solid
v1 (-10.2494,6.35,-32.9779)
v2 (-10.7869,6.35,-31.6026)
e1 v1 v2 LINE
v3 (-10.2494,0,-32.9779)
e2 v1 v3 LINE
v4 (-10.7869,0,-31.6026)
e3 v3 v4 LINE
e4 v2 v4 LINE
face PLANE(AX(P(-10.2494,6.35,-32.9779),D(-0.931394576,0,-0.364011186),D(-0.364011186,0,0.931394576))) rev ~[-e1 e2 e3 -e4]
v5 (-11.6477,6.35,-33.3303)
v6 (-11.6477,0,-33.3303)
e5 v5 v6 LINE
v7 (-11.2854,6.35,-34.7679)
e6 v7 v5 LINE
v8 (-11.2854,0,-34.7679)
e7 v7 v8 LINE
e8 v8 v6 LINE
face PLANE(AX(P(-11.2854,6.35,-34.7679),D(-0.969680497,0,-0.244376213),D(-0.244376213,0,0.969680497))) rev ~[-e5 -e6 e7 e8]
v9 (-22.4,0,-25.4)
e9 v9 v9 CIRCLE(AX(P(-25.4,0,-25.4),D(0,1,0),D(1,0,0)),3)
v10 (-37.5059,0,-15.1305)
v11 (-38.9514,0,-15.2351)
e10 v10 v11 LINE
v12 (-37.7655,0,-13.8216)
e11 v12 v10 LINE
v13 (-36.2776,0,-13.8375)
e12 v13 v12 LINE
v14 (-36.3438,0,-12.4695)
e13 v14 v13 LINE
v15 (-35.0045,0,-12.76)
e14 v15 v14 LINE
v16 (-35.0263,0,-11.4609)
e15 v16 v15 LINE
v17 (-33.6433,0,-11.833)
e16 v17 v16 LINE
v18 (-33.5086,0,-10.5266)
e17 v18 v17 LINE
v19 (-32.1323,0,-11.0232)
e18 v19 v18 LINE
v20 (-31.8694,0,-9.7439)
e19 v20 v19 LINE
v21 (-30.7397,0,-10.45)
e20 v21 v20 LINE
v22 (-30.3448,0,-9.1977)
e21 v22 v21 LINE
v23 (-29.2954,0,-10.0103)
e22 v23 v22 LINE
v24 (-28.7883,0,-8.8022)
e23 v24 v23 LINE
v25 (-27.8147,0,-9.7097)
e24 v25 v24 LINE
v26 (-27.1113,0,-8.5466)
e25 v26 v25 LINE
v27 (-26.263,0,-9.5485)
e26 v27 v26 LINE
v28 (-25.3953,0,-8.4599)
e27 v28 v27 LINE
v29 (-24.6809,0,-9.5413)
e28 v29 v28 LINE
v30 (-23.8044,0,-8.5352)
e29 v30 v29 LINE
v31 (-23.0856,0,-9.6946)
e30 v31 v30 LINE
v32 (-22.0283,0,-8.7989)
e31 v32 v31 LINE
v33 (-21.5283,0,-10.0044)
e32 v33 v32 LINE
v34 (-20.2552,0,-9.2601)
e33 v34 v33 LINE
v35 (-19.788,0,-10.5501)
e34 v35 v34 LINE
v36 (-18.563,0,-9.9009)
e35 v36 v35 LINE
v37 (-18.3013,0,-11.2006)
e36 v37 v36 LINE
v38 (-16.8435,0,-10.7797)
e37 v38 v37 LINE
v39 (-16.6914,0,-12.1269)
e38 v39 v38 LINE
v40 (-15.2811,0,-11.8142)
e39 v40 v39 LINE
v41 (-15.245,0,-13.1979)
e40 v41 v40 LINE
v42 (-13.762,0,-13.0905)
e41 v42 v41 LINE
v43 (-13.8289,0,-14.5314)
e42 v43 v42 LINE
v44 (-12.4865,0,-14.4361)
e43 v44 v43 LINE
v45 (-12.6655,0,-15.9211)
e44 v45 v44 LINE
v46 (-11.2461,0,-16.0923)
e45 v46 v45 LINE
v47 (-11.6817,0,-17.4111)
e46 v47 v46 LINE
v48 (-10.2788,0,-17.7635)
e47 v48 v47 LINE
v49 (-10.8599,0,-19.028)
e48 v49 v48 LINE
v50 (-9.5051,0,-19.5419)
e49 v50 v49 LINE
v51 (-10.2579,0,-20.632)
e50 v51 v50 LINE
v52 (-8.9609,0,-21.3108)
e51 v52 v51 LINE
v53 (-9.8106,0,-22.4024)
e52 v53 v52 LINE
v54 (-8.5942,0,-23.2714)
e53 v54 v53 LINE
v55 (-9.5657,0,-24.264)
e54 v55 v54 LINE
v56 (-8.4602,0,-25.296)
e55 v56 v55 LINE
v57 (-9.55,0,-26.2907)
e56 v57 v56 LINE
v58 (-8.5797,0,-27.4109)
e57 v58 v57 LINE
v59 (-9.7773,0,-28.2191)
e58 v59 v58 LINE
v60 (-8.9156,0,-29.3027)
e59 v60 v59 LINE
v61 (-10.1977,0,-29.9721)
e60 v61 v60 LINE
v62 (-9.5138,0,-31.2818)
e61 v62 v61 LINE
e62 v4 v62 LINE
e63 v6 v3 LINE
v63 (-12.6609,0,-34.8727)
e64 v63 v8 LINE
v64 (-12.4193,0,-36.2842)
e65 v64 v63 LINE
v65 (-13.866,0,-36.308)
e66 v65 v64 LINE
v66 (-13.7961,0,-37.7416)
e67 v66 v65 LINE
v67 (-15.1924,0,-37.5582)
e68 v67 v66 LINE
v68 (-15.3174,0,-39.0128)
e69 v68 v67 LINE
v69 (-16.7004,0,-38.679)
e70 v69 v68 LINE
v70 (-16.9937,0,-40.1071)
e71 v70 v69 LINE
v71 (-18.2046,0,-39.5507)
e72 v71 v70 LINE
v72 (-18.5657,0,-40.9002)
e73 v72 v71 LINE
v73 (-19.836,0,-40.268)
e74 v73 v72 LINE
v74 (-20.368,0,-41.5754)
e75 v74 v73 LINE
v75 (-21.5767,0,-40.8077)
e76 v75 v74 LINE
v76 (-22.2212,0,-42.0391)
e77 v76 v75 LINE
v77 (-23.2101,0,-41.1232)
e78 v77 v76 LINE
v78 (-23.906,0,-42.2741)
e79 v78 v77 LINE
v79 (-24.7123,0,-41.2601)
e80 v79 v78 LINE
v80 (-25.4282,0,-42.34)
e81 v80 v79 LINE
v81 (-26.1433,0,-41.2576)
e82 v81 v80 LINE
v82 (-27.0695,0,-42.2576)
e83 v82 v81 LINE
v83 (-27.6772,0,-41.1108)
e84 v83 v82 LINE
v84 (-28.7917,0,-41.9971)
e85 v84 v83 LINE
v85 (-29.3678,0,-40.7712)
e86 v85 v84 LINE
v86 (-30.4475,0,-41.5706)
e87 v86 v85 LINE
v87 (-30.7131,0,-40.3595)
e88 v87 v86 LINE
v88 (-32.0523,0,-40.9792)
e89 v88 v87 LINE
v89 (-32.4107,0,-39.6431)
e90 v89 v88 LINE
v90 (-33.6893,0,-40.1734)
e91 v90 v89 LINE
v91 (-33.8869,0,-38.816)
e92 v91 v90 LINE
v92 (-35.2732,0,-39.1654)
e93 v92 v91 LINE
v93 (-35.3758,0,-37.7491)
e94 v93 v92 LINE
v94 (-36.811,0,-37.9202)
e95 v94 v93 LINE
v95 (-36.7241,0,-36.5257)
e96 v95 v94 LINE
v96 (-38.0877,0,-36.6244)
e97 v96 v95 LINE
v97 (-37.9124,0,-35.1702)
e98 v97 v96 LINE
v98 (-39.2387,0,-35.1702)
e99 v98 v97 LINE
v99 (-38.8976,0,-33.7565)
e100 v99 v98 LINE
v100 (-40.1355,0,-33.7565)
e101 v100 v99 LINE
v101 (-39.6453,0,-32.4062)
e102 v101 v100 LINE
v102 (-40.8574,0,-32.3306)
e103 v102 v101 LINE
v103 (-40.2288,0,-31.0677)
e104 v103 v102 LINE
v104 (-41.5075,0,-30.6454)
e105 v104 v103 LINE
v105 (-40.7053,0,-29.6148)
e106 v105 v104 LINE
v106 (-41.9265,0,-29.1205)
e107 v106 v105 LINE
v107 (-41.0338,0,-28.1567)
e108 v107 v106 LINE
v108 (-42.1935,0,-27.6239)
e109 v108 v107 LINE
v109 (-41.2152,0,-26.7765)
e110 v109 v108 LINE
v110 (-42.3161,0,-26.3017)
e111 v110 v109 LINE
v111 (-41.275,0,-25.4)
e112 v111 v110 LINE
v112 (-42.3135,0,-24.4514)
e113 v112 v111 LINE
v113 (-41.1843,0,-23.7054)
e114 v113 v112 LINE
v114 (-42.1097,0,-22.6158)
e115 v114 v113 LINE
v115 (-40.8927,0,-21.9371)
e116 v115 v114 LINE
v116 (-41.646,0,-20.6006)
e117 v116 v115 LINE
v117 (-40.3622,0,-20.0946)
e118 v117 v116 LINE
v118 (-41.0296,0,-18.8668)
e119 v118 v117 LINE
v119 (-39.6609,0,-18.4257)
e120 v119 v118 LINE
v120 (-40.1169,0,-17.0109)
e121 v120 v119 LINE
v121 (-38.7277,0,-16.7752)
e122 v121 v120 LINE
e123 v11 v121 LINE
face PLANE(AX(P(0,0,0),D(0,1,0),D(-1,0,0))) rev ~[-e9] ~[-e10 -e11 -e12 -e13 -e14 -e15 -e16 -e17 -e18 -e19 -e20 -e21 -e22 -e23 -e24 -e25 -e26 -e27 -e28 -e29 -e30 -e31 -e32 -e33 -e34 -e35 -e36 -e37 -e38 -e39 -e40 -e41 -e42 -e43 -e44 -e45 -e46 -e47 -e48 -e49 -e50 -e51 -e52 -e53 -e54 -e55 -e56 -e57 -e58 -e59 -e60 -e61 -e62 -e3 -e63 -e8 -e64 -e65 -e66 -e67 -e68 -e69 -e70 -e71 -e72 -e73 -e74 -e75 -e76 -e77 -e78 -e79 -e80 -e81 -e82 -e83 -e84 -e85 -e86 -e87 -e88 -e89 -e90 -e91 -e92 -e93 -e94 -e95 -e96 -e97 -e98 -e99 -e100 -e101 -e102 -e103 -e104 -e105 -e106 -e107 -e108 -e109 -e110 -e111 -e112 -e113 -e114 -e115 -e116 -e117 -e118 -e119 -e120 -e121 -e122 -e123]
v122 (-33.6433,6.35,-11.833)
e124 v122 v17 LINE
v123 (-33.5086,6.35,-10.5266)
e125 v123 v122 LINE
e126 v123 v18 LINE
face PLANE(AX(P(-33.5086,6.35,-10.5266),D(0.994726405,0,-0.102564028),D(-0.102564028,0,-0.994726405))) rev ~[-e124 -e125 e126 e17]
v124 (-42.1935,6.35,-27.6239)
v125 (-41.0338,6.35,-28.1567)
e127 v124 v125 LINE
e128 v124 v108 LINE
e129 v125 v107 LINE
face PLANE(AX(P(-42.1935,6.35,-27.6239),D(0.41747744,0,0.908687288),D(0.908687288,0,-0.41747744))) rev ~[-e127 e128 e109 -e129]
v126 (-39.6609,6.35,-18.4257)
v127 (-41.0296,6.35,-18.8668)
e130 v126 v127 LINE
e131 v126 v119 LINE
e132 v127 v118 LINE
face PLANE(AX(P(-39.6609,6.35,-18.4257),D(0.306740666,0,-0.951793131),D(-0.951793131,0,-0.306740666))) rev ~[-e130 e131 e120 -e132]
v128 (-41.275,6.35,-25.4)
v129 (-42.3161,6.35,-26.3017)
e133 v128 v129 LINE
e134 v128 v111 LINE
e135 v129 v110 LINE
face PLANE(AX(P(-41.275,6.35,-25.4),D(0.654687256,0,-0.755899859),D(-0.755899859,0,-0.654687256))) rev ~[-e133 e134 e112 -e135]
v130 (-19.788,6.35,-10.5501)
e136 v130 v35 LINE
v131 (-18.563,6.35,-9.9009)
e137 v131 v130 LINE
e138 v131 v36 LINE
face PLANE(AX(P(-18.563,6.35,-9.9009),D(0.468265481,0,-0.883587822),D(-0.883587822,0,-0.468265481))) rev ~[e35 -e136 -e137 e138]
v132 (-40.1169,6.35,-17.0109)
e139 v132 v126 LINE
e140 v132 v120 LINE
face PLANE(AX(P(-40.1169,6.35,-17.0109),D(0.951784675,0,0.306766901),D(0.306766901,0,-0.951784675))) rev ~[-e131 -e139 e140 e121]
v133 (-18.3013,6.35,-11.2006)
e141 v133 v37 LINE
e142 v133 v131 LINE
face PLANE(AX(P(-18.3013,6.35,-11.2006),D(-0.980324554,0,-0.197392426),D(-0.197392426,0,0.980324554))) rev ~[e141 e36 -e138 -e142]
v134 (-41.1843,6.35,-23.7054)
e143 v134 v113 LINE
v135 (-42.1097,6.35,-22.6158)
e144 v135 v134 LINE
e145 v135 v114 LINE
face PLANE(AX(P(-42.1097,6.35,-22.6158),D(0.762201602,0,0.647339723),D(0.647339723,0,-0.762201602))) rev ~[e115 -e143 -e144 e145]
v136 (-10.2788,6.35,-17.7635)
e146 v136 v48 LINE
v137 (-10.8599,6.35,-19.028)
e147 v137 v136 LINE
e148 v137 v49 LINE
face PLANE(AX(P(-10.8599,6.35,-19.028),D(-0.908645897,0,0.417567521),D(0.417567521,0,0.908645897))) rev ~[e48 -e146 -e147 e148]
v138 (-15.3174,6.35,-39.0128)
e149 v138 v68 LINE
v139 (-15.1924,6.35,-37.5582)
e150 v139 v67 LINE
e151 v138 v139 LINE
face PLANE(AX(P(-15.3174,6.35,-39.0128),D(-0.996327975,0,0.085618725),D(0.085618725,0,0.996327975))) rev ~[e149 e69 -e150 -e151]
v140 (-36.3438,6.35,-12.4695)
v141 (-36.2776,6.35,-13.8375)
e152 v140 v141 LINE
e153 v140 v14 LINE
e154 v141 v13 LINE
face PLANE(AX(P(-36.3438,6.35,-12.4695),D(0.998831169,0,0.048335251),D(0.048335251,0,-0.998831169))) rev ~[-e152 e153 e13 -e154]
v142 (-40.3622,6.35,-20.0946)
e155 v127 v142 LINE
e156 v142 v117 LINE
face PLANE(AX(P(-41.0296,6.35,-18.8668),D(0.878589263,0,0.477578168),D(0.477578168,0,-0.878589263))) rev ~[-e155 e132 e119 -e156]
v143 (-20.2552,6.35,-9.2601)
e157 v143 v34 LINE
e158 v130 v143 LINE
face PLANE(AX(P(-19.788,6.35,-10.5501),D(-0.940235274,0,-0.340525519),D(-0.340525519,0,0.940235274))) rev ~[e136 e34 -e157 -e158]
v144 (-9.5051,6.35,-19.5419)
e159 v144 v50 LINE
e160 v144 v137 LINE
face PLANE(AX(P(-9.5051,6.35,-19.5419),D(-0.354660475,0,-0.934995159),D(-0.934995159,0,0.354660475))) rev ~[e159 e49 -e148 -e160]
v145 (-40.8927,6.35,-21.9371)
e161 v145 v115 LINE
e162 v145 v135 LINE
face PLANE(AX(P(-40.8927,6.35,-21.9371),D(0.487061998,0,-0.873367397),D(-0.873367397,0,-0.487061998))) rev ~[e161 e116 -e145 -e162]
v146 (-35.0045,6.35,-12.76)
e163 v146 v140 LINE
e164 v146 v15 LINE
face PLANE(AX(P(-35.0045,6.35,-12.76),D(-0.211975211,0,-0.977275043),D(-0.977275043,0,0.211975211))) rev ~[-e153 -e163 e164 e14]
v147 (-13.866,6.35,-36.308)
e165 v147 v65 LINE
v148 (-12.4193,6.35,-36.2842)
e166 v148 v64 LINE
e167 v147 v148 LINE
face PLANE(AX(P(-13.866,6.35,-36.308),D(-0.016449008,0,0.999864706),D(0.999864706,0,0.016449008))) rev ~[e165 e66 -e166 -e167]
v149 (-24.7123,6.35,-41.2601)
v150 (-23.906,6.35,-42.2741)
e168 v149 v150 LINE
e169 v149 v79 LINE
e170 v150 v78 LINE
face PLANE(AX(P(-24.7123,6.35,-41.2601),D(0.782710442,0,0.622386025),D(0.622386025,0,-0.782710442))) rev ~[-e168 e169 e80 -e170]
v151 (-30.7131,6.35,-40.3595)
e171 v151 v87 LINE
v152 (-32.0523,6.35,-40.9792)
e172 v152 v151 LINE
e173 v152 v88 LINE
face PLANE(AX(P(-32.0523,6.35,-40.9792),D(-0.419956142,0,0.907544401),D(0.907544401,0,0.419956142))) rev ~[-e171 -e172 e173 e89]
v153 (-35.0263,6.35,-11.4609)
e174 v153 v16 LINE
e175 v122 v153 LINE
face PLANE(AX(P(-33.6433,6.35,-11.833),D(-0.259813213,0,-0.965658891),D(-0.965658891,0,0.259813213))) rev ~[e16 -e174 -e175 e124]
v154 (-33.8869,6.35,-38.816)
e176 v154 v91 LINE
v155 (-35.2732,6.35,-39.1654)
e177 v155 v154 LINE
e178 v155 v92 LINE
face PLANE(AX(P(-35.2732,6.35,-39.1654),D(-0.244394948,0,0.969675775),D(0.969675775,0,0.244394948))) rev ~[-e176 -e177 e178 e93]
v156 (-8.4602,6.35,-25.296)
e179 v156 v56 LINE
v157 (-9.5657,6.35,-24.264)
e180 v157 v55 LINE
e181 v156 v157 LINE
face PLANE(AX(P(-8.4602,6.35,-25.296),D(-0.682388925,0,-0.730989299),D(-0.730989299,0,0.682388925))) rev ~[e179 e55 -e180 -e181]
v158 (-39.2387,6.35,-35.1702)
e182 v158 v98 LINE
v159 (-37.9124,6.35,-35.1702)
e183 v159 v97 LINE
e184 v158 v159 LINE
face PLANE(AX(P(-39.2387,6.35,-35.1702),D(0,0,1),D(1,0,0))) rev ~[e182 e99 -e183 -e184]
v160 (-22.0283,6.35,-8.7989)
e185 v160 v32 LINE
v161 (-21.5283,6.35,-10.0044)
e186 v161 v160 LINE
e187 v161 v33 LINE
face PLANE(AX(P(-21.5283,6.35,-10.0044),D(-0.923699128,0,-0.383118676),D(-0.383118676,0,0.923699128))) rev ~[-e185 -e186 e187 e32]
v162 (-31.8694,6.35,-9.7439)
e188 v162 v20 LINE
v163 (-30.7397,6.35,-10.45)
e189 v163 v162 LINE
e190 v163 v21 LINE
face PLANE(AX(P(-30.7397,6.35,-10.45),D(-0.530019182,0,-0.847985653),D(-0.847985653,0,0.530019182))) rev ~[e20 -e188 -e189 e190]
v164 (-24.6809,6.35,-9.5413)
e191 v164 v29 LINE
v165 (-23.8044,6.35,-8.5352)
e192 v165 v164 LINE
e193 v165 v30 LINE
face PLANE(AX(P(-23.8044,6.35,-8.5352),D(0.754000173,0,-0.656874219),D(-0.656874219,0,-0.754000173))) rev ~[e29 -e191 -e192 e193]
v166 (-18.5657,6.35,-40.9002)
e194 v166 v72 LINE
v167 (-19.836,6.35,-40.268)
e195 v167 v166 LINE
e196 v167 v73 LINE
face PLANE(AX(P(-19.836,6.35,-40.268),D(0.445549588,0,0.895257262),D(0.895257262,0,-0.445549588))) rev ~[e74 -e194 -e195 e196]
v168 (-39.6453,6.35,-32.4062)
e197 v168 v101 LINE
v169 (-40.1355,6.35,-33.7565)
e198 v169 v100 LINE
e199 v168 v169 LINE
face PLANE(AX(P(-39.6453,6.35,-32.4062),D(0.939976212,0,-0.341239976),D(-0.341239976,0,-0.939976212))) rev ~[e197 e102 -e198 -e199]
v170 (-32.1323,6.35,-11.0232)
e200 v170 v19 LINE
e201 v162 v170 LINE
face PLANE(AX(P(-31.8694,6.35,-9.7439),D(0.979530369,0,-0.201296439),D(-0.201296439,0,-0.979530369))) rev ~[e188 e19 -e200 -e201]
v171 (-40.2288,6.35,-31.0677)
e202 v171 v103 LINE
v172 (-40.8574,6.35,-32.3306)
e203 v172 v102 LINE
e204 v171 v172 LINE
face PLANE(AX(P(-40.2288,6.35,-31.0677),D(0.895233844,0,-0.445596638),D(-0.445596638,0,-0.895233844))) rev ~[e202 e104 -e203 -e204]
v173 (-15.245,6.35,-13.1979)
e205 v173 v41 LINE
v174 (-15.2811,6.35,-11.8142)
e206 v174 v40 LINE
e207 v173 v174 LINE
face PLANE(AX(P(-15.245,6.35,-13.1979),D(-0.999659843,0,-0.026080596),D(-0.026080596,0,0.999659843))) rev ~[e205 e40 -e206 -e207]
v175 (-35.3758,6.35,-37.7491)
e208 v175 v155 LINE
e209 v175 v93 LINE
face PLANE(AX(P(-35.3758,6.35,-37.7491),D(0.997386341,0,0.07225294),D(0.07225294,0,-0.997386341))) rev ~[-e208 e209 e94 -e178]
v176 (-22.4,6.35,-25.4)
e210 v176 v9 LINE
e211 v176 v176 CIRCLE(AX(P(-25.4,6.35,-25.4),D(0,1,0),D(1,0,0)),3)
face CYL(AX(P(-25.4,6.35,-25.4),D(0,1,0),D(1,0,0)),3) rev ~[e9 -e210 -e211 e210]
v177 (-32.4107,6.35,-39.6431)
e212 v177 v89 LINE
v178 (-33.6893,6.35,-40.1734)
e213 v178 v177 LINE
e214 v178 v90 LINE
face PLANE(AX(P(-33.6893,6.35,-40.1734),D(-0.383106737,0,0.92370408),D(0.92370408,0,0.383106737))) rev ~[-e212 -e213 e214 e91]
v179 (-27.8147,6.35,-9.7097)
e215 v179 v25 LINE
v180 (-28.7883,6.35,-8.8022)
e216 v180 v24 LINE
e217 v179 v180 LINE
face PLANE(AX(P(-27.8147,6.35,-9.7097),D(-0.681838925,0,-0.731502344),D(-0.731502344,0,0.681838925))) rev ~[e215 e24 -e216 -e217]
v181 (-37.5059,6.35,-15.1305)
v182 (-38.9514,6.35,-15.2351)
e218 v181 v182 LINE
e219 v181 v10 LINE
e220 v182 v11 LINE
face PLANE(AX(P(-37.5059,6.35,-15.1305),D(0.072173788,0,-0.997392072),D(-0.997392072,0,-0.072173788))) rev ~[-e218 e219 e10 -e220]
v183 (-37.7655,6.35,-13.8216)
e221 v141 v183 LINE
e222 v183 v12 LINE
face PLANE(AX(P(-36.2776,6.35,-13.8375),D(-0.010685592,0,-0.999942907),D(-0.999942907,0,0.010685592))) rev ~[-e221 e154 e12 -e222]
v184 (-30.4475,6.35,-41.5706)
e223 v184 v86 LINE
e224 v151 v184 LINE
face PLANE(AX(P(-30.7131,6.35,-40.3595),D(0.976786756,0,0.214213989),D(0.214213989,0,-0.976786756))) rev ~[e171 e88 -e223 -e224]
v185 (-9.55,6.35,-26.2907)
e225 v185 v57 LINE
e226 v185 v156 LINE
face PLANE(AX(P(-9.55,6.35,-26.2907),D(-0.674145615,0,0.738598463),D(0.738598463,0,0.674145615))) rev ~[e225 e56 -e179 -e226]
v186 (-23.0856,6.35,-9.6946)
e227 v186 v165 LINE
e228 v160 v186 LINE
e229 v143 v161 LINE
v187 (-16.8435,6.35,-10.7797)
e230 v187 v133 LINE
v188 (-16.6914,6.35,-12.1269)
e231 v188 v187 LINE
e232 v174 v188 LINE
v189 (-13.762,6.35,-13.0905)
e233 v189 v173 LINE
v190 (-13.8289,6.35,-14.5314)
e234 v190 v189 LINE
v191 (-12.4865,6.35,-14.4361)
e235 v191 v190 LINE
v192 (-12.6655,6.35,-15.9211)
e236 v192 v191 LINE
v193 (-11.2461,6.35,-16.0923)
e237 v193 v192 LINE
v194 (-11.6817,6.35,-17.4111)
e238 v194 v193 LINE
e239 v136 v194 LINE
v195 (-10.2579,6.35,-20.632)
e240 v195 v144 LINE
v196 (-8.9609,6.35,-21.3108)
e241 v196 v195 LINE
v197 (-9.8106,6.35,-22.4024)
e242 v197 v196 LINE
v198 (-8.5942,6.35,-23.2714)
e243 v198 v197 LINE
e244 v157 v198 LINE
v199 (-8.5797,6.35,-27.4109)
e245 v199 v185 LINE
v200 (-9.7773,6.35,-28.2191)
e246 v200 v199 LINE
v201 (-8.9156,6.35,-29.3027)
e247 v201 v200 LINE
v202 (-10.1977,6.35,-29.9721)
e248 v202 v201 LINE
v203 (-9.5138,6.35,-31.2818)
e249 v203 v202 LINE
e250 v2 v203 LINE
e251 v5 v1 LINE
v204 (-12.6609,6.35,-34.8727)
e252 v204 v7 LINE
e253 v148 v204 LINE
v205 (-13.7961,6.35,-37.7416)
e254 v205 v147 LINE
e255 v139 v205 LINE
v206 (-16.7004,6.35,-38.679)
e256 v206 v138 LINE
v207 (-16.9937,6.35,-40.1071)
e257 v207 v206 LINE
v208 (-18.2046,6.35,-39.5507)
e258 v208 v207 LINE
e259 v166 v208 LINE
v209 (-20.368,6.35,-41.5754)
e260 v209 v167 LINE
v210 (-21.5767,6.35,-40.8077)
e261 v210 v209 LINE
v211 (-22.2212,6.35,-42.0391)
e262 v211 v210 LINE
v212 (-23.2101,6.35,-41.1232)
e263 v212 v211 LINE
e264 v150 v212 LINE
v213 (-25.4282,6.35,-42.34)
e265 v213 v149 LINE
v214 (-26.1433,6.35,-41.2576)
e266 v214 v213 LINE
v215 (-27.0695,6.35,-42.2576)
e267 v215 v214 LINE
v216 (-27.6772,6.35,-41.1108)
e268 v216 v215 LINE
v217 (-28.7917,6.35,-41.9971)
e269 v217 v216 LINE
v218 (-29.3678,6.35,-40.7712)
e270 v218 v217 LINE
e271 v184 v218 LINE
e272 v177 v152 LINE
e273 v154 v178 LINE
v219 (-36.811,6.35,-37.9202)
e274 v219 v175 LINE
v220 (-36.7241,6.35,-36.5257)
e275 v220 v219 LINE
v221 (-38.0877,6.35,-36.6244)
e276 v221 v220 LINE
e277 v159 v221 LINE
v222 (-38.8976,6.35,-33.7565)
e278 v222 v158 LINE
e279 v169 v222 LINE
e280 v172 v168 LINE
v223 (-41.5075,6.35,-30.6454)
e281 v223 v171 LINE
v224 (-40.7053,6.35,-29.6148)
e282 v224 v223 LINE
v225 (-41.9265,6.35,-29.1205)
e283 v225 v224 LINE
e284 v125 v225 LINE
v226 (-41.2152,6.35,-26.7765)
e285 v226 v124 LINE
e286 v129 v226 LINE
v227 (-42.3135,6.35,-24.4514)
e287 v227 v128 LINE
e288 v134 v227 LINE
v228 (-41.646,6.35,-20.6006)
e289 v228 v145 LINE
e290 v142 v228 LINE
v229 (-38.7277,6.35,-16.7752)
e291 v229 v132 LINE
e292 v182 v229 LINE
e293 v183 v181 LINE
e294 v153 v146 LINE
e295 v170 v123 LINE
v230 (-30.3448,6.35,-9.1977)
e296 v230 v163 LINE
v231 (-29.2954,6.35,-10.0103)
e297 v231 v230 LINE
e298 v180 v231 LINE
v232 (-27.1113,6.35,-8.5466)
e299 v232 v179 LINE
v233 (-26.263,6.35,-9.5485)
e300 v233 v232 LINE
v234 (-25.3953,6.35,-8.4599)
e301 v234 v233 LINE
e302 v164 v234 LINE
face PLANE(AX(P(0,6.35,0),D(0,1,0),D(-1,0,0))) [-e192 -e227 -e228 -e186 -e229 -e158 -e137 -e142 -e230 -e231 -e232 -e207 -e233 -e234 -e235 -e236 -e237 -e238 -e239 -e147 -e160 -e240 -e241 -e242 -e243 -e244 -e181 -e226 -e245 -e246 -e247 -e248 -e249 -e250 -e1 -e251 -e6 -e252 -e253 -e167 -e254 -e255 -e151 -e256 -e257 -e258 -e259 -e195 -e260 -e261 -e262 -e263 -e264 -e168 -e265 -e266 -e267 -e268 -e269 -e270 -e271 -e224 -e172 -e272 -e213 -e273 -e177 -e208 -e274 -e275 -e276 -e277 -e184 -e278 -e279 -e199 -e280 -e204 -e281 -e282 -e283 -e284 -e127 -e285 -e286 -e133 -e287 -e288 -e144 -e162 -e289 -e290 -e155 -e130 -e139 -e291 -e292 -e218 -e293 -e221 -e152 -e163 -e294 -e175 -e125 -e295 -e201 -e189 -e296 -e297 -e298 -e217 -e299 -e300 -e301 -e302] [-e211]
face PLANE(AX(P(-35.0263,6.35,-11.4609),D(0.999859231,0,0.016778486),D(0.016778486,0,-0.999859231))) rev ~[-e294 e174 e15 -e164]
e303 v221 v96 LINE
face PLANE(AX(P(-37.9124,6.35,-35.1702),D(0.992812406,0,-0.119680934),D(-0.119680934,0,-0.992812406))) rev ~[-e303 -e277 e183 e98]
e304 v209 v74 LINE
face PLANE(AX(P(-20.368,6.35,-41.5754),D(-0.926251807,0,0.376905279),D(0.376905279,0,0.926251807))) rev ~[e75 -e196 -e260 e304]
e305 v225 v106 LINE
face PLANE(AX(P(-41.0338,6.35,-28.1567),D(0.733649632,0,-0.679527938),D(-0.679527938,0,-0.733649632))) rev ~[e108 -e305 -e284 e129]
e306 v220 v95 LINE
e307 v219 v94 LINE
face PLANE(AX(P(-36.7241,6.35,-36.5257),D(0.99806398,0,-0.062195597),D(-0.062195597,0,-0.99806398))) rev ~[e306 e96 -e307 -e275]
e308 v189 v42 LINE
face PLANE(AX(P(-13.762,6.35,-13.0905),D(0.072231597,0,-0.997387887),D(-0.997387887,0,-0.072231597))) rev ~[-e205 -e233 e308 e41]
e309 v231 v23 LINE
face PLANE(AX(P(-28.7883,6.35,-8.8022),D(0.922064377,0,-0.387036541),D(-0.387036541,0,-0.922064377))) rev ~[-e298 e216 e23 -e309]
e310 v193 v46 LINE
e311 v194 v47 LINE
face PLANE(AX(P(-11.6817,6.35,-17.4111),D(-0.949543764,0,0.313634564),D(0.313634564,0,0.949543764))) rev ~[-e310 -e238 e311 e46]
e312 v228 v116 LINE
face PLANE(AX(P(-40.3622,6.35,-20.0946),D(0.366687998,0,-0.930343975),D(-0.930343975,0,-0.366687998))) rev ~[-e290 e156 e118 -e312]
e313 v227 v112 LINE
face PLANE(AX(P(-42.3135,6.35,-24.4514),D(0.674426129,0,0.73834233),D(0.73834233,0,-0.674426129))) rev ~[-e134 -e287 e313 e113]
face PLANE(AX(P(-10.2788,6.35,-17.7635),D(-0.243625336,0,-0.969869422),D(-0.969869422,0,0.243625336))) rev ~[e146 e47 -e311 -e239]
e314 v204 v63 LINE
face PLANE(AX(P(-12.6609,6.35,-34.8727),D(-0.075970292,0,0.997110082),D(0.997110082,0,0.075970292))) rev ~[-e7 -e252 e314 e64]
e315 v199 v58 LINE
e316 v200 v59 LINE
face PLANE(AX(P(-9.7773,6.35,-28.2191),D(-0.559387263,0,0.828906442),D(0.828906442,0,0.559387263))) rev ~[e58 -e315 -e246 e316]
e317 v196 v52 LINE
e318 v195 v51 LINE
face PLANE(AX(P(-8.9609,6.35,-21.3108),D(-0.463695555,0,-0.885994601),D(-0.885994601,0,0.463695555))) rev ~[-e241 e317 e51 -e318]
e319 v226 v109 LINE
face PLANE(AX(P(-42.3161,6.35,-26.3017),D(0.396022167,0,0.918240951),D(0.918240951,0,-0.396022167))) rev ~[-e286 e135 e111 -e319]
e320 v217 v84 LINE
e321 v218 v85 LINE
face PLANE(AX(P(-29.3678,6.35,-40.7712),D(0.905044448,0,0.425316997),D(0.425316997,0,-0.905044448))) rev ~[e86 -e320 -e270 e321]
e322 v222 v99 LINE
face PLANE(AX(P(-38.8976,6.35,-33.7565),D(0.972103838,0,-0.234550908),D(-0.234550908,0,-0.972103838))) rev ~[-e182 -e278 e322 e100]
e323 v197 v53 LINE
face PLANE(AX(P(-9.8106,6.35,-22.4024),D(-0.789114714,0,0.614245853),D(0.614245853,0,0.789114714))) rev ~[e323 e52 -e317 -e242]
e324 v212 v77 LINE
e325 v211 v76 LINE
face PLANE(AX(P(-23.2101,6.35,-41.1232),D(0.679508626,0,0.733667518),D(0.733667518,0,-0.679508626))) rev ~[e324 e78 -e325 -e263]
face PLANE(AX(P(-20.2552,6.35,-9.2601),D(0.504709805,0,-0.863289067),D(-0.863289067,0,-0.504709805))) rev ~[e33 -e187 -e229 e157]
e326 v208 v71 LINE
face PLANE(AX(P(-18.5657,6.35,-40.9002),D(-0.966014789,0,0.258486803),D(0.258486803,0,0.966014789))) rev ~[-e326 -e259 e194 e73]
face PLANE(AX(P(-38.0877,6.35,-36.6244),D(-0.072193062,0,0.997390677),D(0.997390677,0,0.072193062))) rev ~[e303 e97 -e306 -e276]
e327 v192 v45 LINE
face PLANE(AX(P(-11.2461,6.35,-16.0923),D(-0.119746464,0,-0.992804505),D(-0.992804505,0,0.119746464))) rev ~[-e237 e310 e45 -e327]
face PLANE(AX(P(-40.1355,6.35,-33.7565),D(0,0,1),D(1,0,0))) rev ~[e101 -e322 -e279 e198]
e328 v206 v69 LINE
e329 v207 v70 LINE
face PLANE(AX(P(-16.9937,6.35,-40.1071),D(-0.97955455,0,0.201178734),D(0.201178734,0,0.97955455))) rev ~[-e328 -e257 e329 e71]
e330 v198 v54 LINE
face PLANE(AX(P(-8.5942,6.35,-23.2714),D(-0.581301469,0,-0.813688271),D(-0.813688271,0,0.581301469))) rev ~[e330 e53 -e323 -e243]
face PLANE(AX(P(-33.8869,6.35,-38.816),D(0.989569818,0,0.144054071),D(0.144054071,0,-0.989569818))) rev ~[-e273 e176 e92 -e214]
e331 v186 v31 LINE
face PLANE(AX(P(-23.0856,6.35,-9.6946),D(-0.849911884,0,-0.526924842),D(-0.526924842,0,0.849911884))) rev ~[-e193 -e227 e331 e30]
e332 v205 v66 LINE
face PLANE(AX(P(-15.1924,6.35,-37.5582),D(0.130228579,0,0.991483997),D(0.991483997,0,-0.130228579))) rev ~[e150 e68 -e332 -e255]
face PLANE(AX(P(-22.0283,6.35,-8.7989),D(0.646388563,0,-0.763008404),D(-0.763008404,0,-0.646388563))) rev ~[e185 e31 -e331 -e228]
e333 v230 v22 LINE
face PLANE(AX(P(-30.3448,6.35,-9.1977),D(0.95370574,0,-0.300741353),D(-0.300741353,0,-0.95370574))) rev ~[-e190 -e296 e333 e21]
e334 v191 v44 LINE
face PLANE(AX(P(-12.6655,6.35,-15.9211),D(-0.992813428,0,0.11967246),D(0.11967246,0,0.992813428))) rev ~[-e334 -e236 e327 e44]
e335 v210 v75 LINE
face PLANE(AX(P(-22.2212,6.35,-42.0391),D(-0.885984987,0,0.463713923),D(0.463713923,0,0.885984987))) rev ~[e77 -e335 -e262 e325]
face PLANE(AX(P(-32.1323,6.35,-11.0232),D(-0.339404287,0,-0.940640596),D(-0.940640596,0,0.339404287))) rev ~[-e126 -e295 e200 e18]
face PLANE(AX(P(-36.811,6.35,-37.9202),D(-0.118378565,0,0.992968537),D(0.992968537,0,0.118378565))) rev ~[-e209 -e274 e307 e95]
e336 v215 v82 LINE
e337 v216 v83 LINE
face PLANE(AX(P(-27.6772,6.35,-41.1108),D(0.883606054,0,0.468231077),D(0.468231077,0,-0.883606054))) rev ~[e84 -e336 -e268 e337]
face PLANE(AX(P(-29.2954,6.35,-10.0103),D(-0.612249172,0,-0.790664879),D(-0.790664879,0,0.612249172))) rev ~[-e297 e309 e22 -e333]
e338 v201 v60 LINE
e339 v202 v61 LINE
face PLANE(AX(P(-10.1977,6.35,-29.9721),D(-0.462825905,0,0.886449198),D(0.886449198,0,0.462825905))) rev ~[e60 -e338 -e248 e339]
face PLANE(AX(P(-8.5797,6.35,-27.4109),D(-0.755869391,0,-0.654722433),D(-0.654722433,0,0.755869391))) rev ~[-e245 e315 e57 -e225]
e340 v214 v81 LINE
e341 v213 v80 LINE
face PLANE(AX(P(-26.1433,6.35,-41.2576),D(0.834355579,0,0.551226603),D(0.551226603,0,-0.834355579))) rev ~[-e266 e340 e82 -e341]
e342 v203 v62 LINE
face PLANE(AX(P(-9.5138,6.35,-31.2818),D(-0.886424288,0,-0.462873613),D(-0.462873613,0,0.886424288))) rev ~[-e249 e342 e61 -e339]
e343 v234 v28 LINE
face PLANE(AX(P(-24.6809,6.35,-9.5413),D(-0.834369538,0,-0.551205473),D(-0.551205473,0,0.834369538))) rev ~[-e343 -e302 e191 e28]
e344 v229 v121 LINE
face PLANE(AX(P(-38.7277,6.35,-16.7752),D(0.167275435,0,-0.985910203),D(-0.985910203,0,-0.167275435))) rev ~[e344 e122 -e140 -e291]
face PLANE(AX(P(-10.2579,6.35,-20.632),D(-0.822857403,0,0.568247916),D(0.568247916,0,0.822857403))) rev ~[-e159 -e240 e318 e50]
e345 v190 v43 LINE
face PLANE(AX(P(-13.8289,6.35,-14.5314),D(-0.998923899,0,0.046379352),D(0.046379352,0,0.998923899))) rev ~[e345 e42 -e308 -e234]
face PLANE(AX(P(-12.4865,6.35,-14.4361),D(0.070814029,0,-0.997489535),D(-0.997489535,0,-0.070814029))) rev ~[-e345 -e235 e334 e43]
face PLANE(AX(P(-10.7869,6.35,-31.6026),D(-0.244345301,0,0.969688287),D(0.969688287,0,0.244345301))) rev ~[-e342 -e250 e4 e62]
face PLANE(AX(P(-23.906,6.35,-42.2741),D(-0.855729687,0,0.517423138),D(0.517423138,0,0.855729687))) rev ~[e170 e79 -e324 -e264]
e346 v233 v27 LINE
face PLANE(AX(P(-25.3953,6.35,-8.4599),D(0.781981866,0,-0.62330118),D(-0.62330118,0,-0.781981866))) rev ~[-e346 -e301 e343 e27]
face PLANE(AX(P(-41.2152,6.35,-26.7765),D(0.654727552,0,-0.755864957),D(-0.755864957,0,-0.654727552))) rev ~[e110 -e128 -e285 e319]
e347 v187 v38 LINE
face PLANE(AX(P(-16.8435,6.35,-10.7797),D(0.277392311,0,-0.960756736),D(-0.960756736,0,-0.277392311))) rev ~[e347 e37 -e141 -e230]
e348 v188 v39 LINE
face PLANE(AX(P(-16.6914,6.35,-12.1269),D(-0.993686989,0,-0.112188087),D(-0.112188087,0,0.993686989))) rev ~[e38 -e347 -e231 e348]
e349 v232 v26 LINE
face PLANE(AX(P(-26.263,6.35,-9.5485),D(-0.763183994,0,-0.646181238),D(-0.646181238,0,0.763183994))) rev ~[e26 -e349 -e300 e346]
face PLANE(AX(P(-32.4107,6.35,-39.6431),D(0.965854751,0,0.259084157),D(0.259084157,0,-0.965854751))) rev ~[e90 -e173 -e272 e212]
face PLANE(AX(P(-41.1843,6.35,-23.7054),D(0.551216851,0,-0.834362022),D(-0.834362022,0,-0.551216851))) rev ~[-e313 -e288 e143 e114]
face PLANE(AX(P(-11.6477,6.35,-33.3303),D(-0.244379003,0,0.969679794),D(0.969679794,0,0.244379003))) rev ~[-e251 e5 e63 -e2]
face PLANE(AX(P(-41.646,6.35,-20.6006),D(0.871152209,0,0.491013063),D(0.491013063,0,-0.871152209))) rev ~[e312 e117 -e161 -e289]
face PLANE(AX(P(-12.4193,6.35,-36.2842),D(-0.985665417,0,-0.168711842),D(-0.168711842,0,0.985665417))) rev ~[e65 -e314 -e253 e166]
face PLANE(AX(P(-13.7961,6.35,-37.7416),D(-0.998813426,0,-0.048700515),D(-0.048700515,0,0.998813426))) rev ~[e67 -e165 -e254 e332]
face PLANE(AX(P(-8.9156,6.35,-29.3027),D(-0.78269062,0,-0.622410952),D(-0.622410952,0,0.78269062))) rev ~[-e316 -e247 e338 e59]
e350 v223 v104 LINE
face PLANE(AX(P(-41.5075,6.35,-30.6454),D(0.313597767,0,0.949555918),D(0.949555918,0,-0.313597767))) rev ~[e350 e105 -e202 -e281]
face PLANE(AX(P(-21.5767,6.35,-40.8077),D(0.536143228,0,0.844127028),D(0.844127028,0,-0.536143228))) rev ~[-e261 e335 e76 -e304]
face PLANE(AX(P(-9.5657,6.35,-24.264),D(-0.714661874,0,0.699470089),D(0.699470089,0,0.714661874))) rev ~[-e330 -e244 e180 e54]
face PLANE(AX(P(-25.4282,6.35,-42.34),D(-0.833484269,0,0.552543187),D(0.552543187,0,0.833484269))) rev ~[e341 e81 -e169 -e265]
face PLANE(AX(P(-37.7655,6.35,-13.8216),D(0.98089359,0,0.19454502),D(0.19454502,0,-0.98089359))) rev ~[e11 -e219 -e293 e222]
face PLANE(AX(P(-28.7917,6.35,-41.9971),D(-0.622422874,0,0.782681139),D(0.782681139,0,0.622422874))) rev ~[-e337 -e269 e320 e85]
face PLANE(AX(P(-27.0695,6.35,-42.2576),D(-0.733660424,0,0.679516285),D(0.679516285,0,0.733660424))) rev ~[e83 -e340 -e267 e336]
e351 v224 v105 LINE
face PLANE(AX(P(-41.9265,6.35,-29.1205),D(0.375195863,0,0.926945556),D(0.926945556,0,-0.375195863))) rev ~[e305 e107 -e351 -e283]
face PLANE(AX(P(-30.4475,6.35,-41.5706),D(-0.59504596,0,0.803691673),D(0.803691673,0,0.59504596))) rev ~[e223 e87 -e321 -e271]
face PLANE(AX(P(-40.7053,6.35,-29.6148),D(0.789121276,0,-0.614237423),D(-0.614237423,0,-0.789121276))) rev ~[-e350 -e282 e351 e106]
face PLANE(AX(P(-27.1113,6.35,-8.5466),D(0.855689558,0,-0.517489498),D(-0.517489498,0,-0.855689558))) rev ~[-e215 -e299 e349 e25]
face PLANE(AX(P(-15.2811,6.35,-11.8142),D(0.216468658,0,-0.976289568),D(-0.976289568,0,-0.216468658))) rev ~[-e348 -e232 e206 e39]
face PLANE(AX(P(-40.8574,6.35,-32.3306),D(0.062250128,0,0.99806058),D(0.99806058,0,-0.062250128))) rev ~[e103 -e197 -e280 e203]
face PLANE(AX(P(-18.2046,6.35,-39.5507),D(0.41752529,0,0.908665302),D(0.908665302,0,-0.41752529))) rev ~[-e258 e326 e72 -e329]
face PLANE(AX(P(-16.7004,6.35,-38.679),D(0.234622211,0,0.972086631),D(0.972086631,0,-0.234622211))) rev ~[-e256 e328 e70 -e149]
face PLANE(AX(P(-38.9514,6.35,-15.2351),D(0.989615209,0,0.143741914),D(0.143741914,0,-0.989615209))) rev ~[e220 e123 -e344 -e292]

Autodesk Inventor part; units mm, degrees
ref_plane "YZ Plane" through (0, 0, 0) normal (1, 0, 0) x (0, 1, 0)
ref_plane "XZ Plane" through (0, 0, 0) normal (0, 1, 0) x (-1, 0, 0)
ref_plane "XY Plane" through (0, 0, 0) normal (0, 0, 1) x (1, 0, 0)
sketch "Sketch1" plane through (0, 0, 0) normal (0, 1, 0) x (-1, 0, 0)
  line L0 (0, 0) -> (50.8, 0)
  line L1 (50.8, 0) -> (50.8, -50.8)
  line L2 (50.8, -50.8) -> (0, -50.8)
  line L3 (0, -50.8) -> (0, 0)
  dimension "d0" = 50.8
  dimension "d1" = 50.8
extrude "Extrusion1" add sketch "Sketch1" along normal blind 6.35
sketch "Sketch2" plane through (0, 6.35, 0) normal (0, 1, 0) x (1, 0, 0)
  line L0 (-50.8, 0) -> (0, 0) projected
  line L1 (0, 50.8) -> (-50.8, 50.8) projected
  line L2 (0, 0) -> (0, 50.8) projected
  line L3 (-50.8, 50.8) -> (-50.8, 0) projected
  line L4 (-41.275, 25.4) -> (-42.3161, 26.3017)
  line L5 (-42.3161, 26.3017) -> (-41.2152, 26.7765)
  line L6 (-41.2152, 26.7765) -> (-42.1935, 27.6239)
  line L7 (-42.1935, 27.6239) -> (-41.0338, 28.1567)
  line L8 (-41.0338, 28.1567) -> (-41.9265, 29.1205)
  line L9 (-41.9265, 29.1205) -> (-40.7053, 29.6148)
  line L10 (-40.2288, 31.0677) -> (-40.8574, 32.3306)
  line L11 (-40.8574, 32.3306) -> (-39.6453, 32.4062)
  line L12 (-40.7053, 29.6148) -> (-41.5075, 30.6454)
  line L13 (-41.5075, 30.6454) -> (-40.2288, 31.0677)
  line L14 (-39.6453, 32.4062) -> (-40.1355, 33.7565)
  line L15 (-40.1355, 33.7565) -> (-38.8976, 33.7565)
  line L16 (-38.8976, 33.7565) -> (-39.2387, 35.1702)
  line L17 (-39.2387, 35.1702) -> (-37.9124, 35.1702)
  line L18 (-37.9124, 35.1702) -> (-38.0877, 36.6244)
  line L19 (-38.0877, 36.6244) -> (-36.7241, 36.5257)
  line L20 (-36.7241, 36.5257) -> (-36.811, 37.9202)
  line L21 (-36.811, 37.9202) -> (-35.3758, 37.7491)
  line L22 (-35.3758, 37.7491) -> (-35.2732, 39.1654)
  line L23 (-35.2732, 39.1654) -> (-33.8869, 38.816)
  line L24 (-33.8869, 38.816) -> (-33.6893, 40.1734)
  line L25 (-33.6893, 40.1734) -> (-32.4107, 39.6431)
  line L26 (-32.4107, 39.6431) -> (-32.0523, 40.9792)
  line L27 (-32.0523, 40.9792) -> (-30.7131, 40.3595)
  line L28 (-30.7131, 40.3595) -> (-30.4475, 41.5706)
  line L29 (-30.4475, 41.5706) -> (-29.3678, 40.7712)
  line L30 (-29.3678, 40.7712) -> (-28.7917, 41.9971)
  line L31 (-28.7917, 41.9971) -> (-27.6772, 41.1108)
  line L32 (-27.6772, 41.1108) -> (-27.0695, 42.2576)
  line L33 (-27.0695, 42.2576) -> (-26.1433, 41.2576)
  line L34 (-26.1433, 41.2576) -> (-25.4282, 42.34)
  line L35 (-25.4282, 42.34) -> (-24.7123, 41.2601)
  line L36 (-24.7123, 41.2601) -> (-23.906, 42.2741)
  line L37 (-23.906, 42.2741) -> (-23.2101, 41.1232)
  line L38 (-23.2101, 41.1232) -> (-22.2212, 42.0391)
  line L39 (-22.2212, 42.0391) -> (-21.5767, 40.8077)
  line L40 (-21.5767, 40.8077) -> (-20.368, 41.5754)
  line L41 (-20.368, 41.5754) -> (-19.836, 40.268)
  line L42 (-19.836, 40.268) -> (-18.5657, 40.9002)
  line L43 (-18.5657, 40.9002) -> (-18.2046, 39.5507)
  line L44 (-18.2046, 39.5507) -> (-16.9937, 40.1071)
  line L45 (-16.9937, 40.1071) -> (-16.7004, 38.679)
  line L46 (-16.7004, 38.679) -> (-15.3174, 39.0128)
  line L47 (-15.3174, 39.0128) -> (-15.1924, 37.5582)
  line L48 (-15.1924, 37.5582) -> (-13.7961, 37.7416)
  line L49 (-13.7961, 37.7416) -> (-13.866, 36.308)
  line L50 (-13.866, 36.308) -> (-12.4193, 36.2842)
  line L51 (-12.4193, 36.2842) -> (-12.6609, 34.8727)
  line L52 (-12.6609, 34.8727) -> (-11.2854, 34.7679)
  line L53 (-11.2854, 34.7679) -> (-11.6477, 33.3303)
  line L54 (-11.6477, 33.3303) -> (-10.2494, 32.9779)
  line L55 (-10.2494, 32.9779) -> (-10.7869, 31.6026)
  line L56 (-10.7869, 31.6026) -> (-9.5138, 31.2818)
  line L57 (-9.5138, 31.2818) -> (-10.1977, 29.9721)
  line L58 (-10.1977, 29.9721) -> (-8.9156, 29.3027)
  line L59 (-8.9156, 29.3027) -> (-9.7773, 28.2191)
  line L60 (-9.7773, 28.2191) -> (-8.5797, 27.4109)
  line L61 (-8.5797, 27.4109) -> (-9.55, 26.2907)
  line L62 (-9.55, 26.2907) -> (-8.4602, 25.296)
  line L63 (-8.4602, 25.296) -> (-9.5657, 24.264)
  line L64 (-9.5657, 24.264) -> (-8.5942, 23.2714)
  line L65 (-8.5942, 23.2714) -> (-9.8106, 22.4024)
  line L66 (-9.8106, 22.4024) -> (-8.9609, 21.3108)
  line L67 (-8.9609, 21.3108) -> (-10.2579, 20.632)
  line L68 (-10.2579, 20.632) -> (-9.5051, 19.5419)
  line L69 (-9.5051, 19.5419) -> (-10.8599, 19.028)
  line L70 (-10.8599, 19.028) -> (-10.2788, 17.7635)
  line L71 (-10.2788, 17.7635) -> (-11.6817, 17.4111)
  line L72 (-11.6817, 17.4111) -> (-11.2461, 16.0923)
  line L73 (-11.2461, 16.0923) -> (-12.6655, 15.9211)
  line L74 (-12.6655, 15.9211) -> (-12.4865, 14.4361)
  line L75 (-12.4865, 14.4361) -> (-13.8289, 14.5314)
  line L76 (-13.8289, 14.5314) -> (-13.762, 13.0905)
  line L77 (-13.762, 13.0905) -> (-15.245, 13.1979)
  line L78 (-15.245, 13.1979) -> (-15.2811, 11.8142)
  line L79 (-15.2811, 11.8142) -> (-16.6914, 12.1269)
  line L80 (-16.6914, 12.1269) -> (-16.8435, 10.7797)
  line L81 (-16.8435, 10.7797) -> (-18.3013, 11.2006)
  line L82 (-18.3013, 11.2006) -> (-18.563, 9.9009)
  line L83 (-18.563, 9.9009) -> (-19.788, 10.5501)
  line L84 (-19.788, 10.5501) -> (-20.2552, 9.2601)
  line L85 (-20.2552, 9.2601) -> (-21.5283, 10.0044)
  line L86 (-21.5283, 10.0044) -> (-22.0283, 8.7989)
  line L87 (-22.0283, 8.7989) -> (-23.0856, 9.6946)
  line L88 (-23.0856, 9.6946) -> (-23.8044, 8.5352)
  line L89 (-23.8044, 8.5352) -> (-24.6809, 9.5413)
  line L90 (-24.6809, 9.5413) -> (-25.3953, 8.4599)
  line L91 (-25.3953, 8.4599) -> (-26.263, 9.5485)
  line L92 (-26.263, 9.5485) -> (-27.1113, 8.5466)
  line L93 (-27.1113, 8.5466) -> (-27.8147, 9.7097)
  line L94 (-27.8147, 9.7097) -> (-28.7883, 8.8022)
  line L95 (-28.7883, 8.8022) -> (-29.2954, 10.0103)
  line L96 (-29.2954, 10.0103) -> (-30.3448, 9.1977)
  line L97 (-30.3448, 9.1977) -> (-30.7397, 10.45)
  line L98 (-30.7397, 10.45) -> (-31.8694, 9.7439)
  line L99 (-31.8694, 9.7439) -> (-32.1323, 11.0232)
  line L100 (-32.1323, 11.0232) -> (-33.5086, 10.5266)
  line L101 (-33.5086, 10.5266) -> (-33.6433, 11.833)
  line L102 (-33.6433, 11.833) -> (-35.0263, 11.4609)
  line L103 (-35.0263, 11.4609) -> (-35.0045, 12.76)
  line L104 (-35.0045, 12.76) -> (-36.3438, 12.4695)
  line L105 (-36.3438, 12.4695) -> (-36.2776, 13.8375)
  line L106 (-36.2776, 13.8375) -> (-37.7655, 13.8216)
  line L107 (-37.7655, 13.8216) -> (-37.5059, 15.1305)
  line L108 (-37.5059, 15.1305) -> (-38.9514, 15.2351)
  line L109 (-38.9514, 15.2351) -> (-38.7277, 16.7752)
  line L110 (-38.7277, 16.7752) -> (-40.1169, 17.0109)
  line L111 (-40.1169, 17.0109) -> (-39.6609, 18.4257)
  line L112 (-39.6609, 18.4257) -> (-41.0296, 18.8668)
  line L113 (-41.0296, 18.8668) -> (-40.3622, 20.0946)
  line L114 (-40.3622, 20.0946) -> (-41.646, 20.6006)
  line L115 (-41.646, 20.6006) -> (-40.8927, 21.9371)
  line L116 (-40.8927, 21.9371) -> (-42.1097, 22.6158)
  line L117 (-42.1097, 22.6158) -> (-41.1843, 23.7054)
  line L118 (-41.1843, 23.7054) -> (-42.3135, 24.4514)
  line L119 (-42.3135, 24.4514) -> (-41.275, 25.4)
extrude "Extrusion2" cut sketch "Sketch2" against normal blind 25.4
sketch "Sketch3" plane through (0, 6.35, 0) normal (0, 1, 0) x (1, 0, 0)
  line L0 (-41.1843, 23.7054) -> (-42.1097, 22.6158) projected
  line L1 (-9.5138, 31.2818) -> (-10.7869, 31.6026) projected
  line L2 (-38.0877, 36.6244) -> (-37.9124, 35.1702) projected
  line L3 (-18.5657, 40.9002) -> (-19.836, 40.268) projected
  line L4 (-33.6433, 11.833) -> (-33.5086, 10.5266) projected
  line L5 (-42.3161, 26.3017) -> (-41.275, 25.4) projected
  circle A0 centre (-25.4, 25.4) radius 3
  point P0 (0, 0)
  point P1 (-8.4602, 25.296)
  dimension "d9" = 6
extrude "Extrusion3" cut sketch "Sketch3" against normal blind 6.35
